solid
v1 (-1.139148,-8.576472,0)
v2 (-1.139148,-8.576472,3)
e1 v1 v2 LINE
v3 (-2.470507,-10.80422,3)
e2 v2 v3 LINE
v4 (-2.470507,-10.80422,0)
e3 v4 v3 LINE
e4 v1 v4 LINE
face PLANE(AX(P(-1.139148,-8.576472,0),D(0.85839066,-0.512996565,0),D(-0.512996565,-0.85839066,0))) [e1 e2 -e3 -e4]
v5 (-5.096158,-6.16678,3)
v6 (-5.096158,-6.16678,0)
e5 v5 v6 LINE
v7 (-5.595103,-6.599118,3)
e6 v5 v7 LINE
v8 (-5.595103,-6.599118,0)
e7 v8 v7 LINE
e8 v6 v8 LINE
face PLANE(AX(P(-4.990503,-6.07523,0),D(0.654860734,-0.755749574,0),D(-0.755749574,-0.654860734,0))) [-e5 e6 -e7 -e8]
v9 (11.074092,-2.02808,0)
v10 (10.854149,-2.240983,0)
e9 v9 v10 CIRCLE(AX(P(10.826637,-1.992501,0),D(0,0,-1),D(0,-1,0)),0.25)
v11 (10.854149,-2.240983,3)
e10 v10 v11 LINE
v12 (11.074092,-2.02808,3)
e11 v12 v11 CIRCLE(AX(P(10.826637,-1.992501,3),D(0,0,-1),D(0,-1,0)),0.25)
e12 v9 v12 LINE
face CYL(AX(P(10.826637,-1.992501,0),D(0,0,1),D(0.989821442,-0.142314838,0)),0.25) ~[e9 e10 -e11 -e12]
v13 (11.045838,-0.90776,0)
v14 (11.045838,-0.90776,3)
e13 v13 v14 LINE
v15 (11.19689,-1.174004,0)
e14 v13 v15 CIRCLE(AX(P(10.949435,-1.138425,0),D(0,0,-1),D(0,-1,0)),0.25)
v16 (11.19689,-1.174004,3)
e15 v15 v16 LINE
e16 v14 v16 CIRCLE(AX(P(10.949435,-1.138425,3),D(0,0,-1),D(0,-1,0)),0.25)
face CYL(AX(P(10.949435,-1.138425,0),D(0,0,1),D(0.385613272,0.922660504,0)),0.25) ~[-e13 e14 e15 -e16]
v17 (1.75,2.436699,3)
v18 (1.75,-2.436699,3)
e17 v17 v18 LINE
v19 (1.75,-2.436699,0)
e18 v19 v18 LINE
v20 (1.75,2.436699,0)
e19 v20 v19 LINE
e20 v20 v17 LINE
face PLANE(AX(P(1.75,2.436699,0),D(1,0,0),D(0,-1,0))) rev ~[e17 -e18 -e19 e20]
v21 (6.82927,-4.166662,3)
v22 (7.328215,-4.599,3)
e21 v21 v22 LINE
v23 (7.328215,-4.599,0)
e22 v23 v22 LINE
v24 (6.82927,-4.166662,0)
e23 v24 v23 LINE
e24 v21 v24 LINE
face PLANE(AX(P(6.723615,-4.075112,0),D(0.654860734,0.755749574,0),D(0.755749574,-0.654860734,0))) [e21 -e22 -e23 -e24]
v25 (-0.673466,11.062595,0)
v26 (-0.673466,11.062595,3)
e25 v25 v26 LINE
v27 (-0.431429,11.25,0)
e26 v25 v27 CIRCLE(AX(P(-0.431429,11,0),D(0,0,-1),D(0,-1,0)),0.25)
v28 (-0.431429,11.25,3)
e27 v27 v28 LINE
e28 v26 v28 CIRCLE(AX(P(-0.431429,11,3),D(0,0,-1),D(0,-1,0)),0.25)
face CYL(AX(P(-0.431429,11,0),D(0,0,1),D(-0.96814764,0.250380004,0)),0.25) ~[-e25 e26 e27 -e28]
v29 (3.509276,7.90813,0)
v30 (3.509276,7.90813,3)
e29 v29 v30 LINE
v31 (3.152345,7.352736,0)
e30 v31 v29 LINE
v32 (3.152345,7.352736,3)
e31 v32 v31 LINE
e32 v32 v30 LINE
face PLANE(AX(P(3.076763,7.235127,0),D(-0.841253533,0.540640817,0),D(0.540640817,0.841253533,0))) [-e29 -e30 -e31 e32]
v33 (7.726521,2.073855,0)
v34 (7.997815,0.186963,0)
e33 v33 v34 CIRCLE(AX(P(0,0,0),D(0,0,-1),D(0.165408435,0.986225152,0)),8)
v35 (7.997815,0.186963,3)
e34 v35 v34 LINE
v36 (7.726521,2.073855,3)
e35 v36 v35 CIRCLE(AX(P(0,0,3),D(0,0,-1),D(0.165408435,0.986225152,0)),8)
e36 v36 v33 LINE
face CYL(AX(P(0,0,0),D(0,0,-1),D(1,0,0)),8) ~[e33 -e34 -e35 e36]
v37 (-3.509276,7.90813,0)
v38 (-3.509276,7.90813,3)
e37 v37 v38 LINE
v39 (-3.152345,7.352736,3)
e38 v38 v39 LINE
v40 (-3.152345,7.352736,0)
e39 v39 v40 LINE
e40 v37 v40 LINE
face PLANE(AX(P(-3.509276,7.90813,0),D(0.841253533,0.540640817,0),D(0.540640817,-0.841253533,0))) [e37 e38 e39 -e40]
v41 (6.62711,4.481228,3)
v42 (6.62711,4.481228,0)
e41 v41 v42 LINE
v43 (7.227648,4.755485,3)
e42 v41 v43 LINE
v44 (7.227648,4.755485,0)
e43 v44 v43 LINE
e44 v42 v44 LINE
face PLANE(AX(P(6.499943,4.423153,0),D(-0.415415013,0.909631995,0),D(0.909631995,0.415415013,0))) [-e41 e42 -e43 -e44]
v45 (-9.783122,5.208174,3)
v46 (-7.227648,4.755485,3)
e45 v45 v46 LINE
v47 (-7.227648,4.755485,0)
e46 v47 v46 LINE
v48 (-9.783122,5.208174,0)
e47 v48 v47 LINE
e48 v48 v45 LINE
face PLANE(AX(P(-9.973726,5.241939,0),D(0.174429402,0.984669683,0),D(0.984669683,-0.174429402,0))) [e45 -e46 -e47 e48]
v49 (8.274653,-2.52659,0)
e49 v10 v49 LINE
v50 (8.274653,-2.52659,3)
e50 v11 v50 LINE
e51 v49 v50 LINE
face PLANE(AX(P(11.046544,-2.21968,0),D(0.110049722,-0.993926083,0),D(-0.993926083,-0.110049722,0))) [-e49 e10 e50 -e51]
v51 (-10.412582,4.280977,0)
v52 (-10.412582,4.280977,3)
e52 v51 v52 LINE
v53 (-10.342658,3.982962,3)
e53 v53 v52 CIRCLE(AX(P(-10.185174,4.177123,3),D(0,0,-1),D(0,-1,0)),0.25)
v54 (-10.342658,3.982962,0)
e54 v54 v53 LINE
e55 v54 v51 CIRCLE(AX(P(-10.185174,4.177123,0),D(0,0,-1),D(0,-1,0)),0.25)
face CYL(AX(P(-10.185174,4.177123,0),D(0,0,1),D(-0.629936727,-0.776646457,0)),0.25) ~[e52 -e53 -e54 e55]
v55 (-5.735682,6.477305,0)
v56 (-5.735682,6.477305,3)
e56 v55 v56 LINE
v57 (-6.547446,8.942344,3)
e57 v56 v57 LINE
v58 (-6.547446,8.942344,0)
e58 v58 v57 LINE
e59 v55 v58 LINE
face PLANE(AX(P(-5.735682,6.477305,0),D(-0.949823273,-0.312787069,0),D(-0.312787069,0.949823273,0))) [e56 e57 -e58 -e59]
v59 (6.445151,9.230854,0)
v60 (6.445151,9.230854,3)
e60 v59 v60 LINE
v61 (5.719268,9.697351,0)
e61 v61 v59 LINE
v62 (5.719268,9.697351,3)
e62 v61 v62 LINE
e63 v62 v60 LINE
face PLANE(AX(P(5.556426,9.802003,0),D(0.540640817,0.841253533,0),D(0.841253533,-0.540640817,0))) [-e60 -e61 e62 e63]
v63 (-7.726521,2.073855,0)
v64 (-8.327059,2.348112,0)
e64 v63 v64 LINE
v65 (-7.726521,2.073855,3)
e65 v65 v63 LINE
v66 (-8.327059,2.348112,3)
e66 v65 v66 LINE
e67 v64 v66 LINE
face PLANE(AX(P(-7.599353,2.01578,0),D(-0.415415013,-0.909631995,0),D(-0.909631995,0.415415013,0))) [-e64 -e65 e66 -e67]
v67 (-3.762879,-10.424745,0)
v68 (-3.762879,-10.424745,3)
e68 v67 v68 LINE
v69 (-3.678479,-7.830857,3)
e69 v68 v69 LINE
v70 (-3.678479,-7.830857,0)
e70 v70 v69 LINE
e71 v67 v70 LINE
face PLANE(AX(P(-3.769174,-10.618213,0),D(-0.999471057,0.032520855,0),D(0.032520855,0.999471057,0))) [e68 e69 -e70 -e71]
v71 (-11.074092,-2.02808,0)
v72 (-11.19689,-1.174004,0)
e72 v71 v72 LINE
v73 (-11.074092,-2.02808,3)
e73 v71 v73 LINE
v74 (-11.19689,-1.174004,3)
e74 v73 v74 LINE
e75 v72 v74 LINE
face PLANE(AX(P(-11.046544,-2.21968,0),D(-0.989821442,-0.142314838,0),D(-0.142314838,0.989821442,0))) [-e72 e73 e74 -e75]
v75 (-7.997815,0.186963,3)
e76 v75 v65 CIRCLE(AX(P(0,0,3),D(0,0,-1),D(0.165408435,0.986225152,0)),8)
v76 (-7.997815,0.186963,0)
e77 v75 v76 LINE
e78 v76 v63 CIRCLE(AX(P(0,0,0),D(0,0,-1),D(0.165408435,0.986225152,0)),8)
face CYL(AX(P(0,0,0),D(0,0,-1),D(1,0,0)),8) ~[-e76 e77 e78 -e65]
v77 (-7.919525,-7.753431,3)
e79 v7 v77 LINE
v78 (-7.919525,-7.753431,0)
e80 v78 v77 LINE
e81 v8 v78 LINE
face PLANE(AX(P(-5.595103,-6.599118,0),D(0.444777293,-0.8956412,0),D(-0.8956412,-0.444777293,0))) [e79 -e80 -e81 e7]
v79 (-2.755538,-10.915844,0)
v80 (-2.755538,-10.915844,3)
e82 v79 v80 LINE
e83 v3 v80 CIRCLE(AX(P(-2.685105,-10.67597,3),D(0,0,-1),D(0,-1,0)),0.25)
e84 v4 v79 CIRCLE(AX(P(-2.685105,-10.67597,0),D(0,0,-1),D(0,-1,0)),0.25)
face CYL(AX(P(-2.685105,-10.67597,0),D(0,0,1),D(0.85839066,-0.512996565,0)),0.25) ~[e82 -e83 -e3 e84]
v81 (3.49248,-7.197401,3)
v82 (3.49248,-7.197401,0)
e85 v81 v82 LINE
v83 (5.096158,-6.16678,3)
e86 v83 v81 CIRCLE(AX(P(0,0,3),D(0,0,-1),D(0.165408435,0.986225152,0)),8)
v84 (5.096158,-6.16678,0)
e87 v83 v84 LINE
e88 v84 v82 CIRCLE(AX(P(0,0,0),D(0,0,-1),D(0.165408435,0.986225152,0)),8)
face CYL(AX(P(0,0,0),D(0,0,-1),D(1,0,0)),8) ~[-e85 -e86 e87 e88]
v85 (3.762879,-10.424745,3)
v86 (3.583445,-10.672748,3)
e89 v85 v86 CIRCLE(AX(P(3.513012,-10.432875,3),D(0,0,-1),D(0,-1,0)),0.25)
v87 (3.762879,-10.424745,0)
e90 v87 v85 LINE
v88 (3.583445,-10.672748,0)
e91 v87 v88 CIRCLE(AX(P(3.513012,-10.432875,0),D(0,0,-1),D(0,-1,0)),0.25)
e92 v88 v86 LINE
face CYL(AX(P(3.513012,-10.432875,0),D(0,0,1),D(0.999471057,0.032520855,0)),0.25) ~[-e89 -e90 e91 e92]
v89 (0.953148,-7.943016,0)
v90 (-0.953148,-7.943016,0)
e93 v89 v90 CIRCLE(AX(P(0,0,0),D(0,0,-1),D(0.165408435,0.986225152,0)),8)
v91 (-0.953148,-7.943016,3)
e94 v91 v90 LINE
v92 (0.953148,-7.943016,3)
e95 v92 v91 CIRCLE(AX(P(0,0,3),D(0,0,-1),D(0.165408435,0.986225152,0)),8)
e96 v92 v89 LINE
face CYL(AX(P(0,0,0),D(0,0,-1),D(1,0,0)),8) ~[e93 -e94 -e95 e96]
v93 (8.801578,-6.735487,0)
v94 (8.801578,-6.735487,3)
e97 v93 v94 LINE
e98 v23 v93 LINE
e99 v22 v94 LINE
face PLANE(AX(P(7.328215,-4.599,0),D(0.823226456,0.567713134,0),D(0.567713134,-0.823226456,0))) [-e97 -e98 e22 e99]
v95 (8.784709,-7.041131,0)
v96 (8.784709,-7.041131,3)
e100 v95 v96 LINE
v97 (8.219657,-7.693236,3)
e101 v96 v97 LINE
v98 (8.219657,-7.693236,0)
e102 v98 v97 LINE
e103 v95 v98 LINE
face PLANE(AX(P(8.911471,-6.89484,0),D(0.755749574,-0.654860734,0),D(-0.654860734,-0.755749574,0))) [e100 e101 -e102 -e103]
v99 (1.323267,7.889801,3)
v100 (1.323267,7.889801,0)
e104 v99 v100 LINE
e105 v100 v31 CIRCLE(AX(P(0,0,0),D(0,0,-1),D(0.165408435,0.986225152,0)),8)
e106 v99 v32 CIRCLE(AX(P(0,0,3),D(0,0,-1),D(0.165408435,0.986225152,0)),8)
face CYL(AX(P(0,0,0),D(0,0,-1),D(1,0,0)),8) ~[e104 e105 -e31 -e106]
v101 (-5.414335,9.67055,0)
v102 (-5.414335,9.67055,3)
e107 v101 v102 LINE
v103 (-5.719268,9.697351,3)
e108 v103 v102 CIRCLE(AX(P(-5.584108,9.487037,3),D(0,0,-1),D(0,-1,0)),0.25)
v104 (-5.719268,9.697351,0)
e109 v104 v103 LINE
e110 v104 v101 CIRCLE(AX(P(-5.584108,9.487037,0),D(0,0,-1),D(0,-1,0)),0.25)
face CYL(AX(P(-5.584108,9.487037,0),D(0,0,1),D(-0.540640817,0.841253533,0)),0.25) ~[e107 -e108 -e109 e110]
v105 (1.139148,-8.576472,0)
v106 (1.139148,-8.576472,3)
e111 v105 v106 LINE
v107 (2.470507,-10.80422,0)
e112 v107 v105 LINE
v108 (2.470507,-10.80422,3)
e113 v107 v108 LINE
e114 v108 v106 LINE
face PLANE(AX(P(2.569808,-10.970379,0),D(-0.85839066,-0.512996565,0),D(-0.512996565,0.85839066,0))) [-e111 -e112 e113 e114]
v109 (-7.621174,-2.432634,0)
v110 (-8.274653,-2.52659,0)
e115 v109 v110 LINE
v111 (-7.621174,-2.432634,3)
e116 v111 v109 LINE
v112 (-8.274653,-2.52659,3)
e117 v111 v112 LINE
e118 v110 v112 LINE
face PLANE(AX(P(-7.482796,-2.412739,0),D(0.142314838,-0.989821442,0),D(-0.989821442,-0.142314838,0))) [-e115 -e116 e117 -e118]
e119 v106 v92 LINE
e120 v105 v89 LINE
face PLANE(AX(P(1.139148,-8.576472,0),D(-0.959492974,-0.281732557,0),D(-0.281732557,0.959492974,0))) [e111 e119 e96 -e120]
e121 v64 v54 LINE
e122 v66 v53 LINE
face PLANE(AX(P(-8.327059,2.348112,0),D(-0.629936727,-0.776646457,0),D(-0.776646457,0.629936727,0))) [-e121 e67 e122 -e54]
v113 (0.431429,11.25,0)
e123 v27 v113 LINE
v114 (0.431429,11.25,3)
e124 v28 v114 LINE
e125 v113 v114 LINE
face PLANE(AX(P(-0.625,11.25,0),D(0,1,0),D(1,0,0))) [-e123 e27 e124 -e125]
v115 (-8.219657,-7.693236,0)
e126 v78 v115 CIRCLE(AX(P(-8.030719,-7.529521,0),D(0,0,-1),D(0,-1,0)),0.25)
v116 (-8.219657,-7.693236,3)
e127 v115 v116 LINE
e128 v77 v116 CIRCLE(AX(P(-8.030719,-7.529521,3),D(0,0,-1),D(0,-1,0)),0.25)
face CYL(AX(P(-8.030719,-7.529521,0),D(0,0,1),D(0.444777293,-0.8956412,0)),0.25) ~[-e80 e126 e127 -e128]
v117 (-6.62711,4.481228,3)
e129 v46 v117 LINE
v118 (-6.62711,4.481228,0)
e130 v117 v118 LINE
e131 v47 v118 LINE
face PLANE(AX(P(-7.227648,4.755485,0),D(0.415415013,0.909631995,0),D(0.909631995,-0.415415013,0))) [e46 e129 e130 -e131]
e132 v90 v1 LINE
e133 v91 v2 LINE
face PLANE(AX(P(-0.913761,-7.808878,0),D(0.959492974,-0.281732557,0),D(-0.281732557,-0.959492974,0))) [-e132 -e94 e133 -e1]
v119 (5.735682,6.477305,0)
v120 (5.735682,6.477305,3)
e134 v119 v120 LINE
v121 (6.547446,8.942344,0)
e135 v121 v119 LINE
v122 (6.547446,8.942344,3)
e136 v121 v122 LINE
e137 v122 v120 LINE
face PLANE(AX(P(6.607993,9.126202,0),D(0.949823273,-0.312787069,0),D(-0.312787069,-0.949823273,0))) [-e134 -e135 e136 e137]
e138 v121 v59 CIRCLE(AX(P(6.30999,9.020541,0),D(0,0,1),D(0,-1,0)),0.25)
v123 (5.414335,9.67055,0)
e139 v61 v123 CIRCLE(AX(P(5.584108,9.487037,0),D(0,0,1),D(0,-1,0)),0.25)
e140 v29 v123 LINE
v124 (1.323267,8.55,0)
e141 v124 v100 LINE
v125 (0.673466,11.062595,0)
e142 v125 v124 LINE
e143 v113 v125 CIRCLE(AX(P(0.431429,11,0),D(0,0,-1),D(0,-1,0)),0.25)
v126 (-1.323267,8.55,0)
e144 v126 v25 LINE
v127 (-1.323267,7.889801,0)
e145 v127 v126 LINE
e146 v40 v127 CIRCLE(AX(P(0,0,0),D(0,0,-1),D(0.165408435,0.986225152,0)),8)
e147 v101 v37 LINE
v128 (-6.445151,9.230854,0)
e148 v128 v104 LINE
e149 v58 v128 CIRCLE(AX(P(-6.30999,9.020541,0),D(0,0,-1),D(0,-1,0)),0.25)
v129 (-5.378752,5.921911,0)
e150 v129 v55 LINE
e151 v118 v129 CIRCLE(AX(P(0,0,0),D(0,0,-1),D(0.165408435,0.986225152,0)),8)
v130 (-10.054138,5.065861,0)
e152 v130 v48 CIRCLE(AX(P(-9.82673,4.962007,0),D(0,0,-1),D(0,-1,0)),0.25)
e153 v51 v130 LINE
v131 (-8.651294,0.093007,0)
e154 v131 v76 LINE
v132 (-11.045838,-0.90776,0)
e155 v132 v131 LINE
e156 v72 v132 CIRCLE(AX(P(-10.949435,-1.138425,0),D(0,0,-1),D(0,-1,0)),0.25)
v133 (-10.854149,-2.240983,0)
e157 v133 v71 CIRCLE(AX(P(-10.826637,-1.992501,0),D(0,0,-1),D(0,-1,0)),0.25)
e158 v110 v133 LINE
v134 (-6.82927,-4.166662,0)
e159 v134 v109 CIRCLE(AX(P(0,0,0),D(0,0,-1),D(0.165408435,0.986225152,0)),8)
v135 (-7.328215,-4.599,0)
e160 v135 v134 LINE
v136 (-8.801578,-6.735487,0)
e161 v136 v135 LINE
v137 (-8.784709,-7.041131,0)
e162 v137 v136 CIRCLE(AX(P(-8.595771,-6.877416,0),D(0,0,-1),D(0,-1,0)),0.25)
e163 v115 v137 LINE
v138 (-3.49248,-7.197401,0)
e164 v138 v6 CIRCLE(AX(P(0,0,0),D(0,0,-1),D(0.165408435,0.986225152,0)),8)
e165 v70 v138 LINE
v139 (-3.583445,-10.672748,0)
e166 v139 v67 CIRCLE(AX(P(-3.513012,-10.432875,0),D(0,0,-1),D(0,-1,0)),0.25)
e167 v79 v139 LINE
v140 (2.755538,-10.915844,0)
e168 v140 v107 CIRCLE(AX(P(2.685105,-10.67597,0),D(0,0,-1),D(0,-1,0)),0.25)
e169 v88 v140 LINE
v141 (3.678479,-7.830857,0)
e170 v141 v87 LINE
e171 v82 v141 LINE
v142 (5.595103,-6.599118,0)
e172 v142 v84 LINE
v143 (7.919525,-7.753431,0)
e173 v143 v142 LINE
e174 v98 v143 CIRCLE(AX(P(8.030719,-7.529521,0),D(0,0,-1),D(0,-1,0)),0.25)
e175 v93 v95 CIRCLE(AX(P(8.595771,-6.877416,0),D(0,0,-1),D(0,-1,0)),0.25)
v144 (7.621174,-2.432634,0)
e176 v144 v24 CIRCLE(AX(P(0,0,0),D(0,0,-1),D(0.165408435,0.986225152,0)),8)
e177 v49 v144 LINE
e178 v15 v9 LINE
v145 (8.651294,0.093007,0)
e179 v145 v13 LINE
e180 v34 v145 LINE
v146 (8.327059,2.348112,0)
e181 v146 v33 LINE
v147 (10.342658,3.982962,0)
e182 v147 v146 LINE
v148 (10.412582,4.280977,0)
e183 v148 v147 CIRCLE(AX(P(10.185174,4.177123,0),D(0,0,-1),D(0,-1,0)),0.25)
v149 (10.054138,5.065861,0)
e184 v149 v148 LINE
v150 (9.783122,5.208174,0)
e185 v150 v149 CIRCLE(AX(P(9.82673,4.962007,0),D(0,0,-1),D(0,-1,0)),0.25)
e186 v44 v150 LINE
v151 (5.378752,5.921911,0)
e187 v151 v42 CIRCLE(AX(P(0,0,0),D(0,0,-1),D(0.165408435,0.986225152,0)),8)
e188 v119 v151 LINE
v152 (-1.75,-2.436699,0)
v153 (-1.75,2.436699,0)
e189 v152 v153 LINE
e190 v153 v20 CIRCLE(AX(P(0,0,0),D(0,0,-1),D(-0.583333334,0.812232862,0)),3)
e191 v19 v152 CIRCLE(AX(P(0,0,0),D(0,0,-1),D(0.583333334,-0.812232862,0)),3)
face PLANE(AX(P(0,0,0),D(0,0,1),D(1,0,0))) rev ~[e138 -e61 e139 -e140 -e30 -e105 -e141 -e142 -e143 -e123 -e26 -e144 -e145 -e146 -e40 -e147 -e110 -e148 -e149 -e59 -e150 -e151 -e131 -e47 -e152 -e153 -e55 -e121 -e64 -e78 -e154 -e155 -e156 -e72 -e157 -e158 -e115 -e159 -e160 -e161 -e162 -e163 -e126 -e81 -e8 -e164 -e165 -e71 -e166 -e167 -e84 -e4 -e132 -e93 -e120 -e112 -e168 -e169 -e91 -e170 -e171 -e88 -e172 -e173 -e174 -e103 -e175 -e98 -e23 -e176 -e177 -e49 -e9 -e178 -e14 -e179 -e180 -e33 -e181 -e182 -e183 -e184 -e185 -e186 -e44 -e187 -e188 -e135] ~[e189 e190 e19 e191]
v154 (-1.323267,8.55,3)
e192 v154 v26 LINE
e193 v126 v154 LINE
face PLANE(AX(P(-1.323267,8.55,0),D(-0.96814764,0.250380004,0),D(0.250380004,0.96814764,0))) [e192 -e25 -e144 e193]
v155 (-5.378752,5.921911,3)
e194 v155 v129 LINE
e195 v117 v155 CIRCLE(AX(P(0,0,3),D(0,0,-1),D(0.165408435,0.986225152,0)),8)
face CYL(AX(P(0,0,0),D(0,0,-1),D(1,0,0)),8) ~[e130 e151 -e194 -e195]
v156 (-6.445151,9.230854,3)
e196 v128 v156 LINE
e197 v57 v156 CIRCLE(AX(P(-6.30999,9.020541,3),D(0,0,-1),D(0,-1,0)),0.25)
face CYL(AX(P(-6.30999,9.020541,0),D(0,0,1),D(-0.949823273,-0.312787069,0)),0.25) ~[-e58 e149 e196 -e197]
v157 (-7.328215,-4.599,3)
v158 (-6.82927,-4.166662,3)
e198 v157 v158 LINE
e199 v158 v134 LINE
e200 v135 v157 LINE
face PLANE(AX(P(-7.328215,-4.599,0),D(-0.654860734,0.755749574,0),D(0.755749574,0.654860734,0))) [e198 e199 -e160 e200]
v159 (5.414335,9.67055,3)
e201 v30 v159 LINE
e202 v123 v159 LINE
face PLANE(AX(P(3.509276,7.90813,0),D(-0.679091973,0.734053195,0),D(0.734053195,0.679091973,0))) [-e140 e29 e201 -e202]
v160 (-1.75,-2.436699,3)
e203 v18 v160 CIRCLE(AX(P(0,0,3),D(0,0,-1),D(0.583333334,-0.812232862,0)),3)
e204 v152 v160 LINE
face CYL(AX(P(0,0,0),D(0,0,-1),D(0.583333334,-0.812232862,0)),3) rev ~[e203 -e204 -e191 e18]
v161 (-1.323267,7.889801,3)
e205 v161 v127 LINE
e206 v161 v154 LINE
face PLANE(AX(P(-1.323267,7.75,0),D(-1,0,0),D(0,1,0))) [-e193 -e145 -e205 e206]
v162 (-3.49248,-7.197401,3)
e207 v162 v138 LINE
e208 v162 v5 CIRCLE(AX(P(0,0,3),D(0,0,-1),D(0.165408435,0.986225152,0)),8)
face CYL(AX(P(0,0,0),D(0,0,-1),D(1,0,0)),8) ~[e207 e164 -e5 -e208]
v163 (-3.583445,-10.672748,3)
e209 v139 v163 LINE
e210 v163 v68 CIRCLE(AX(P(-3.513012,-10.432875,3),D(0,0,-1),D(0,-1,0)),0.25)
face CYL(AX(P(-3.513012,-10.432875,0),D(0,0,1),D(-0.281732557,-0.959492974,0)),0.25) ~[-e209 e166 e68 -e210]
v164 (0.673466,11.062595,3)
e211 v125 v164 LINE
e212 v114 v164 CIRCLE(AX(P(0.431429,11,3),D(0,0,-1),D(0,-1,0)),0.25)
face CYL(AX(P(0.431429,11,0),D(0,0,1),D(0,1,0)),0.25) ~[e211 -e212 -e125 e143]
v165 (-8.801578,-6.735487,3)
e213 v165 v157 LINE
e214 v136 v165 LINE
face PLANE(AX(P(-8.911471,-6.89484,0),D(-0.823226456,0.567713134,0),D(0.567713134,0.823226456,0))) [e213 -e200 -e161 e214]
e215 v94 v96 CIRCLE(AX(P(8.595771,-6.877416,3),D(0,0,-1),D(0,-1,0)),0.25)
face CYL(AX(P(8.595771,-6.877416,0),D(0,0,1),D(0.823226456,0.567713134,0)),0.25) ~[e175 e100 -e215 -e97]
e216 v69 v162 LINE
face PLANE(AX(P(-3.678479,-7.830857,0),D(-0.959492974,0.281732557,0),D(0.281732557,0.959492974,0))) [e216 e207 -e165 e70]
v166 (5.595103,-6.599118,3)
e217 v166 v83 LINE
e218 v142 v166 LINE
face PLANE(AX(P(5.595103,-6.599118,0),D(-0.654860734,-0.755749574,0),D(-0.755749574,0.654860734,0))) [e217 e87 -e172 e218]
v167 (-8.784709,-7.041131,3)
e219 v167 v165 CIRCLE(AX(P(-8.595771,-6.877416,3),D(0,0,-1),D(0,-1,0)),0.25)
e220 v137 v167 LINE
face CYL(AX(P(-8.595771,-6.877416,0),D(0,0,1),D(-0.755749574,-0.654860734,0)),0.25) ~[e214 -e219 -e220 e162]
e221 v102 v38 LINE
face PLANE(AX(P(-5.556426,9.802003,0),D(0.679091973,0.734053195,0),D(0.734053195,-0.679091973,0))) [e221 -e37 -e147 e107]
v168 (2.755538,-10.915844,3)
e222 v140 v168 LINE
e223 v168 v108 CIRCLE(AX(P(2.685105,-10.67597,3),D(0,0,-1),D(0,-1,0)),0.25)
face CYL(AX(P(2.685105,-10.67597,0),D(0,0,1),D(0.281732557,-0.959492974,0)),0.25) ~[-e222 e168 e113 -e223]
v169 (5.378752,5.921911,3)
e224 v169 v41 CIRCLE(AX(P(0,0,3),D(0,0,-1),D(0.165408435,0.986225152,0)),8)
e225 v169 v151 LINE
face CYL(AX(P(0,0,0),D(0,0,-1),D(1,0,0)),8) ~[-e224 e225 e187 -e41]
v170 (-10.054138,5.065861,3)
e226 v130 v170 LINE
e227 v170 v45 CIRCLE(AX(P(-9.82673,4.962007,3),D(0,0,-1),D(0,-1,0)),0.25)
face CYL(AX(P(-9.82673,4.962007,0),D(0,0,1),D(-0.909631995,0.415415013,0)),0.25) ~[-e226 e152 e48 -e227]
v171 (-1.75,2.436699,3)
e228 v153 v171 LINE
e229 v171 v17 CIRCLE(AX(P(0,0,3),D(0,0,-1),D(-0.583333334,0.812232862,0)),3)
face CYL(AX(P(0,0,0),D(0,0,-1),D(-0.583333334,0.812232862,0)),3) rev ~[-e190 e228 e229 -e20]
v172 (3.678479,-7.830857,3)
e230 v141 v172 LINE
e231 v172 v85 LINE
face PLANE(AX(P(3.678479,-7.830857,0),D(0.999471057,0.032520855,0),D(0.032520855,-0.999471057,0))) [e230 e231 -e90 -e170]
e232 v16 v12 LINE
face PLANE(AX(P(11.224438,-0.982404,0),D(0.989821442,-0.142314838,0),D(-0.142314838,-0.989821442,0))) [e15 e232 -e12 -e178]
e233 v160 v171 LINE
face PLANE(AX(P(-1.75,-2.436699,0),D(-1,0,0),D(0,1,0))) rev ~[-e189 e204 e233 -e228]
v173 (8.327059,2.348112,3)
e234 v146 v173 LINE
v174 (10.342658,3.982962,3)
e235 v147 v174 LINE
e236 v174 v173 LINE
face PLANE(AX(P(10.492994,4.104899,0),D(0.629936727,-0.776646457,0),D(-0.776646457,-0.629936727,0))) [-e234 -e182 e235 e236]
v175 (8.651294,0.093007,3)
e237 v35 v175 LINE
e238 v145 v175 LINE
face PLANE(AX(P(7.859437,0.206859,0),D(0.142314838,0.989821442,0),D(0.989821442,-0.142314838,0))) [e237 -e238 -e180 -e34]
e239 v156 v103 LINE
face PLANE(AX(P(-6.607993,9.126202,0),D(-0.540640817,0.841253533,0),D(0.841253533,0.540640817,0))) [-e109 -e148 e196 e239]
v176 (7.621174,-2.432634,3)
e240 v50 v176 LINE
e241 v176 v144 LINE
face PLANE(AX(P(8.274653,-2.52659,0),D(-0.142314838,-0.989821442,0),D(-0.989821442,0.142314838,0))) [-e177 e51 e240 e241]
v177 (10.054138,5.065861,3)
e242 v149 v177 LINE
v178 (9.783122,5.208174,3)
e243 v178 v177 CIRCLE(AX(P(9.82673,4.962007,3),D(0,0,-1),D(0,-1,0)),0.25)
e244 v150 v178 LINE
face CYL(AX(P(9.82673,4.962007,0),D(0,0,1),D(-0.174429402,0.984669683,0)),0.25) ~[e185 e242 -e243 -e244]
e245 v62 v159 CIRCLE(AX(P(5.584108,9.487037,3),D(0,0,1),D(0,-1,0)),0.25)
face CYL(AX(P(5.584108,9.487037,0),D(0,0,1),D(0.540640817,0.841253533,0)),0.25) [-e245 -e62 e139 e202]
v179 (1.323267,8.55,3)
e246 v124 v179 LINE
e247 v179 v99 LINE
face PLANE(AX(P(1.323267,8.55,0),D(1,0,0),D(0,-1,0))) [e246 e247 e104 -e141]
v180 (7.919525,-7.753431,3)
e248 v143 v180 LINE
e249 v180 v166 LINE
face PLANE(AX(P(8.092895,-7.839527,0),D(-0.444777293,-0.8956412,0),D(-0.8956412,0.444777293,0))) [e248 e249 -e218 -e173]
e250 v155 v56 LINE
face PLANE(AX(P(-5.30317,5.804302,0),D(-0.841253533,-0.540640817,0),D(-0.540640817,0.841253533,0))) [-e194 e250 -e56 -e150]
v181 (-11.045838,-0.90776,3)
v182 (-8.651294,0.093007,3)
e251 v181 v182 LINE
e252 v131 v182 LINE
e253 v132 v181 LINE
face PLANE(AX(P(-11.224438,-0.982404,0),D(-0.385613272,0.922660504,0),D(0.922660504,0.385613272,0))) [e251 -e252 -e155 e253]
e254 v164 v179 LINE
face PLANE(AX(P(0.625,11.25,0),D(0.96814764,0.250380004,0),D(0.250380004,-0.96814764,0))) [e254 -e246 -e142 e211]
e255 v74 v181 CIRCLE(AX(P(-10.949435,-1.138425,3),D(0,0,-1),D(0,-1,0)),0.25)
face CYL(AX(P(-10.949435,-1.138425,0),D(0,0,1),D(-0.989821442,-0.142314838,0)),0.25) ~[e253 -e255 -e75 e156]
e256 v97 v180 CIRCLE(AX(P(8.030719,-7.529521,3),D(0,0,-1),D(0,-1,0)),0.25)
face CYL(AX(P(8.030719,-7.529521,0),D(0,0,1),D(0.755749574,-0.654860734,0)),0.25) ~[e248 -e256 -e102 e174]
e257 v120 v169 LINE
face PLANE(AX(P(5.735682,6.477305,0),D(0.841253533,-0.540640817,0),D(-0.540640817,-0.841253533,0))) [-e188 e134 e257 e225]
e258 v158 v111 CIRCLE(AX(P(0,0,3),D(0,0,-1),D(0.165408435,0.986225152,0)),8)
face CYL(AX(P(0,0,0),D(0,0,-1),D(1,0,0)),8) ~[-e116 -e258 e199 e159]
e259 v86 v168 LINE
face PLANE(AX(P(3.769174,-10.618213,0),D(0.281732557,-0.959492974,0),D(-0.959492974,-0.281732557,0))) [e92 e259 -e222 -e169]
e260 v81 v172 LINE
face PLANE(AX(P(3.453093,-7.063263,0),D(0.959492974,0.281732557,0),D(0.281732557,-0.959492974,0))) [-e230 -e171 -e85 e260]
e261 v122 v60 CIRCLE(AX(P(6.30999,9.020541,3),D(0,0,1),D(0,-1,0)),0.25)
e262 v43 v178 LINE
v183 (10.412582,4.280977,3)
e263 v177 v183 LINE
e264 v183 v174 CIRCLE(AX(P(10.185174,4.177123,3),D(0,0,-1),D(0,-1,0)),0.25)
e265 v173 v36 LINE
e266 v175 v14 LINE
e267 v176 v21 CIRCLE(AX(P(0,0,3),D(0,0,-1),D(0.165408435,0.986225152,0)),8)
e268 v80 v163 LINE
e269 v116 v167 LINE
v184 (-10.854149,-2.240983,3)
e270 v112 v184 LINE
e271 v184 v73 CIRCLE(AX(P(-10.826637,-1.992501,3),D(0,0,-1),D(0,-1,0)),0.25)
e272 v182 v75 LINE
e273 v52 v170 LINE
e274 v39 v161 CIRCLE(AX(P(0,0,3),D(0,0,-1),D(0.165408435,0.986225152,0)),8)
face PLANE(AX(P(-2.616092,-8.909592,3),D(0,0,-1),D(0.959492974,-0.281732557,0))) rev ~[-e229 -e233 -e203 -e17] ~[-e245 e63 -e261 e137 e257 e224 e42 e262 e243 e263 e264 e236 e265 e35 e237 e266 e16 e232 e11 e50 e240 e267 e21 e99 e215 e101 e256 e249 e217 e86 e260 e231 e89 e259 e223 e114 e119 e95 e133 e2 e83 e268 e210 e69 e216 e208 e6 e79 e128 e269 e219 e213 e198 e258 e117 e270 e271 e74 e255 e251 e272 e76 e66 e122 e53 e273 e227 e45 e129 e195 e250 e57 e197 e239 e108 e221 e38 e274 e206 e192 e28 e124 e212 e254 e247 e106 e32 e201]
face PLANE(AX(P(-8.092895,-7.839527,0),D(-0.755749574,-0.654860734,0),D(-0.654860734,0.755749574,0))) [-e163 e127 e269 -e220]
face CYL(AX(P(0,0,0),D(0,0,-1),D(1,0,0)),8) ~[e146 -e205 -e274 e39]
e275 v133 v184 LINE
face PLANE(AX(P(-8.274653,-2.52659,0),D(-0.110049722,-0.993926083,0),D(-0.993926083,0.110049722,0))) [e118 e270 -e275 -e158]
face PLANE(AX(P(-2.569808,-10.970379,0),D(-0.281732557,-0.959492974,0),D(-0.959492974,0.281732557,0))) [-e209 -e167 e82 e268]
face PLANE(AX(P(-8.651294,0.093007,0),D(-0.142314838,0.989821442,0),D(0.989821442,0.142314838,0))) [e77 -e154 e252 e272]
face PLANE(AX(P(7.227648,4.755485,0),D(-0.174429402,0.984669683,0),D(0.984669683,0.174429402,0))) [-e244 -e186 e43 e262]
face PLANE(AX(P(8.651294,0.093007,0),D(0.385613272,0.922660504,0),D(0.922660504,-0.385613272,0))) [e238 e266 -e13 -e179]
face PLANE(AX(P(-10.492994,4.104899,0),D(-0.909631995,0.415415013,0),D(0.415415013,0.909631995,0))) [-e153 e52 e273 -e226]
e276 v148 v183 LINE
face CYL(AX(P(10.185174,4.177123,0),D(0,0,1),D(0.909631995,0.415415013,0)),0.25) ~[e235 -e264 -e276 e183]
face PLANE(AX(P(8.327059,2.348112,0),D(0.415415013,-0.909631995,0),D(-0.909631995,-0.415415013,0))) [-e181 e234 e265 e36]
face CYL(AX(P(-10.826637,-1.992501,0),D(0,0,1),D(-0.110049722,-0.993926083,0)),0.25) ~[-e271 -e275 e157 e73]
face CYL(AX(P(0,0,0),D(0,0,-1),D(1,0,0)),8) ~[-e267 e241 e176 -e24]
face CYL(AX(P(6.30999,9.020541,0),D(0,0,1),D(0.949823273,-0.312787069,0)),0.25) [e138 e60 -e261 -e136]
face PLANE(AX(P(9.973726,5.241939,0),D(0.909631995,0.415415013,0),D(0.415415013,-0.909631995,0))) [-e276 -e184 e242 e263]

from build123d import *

# Parameters (mm, degrees)
SKETCH1_R                = 8
BOSS_EXTRUDE1_DEPTH      = 3
BOSS_EXTRUDE2_DEPTH      = 3
FILLET1_R                = 0.25
CIRPATTERN1_COUNT        = 11
FILLET1_OF_CIRPATTERN1_R = 0.25


with BuildPart() as part:
    # Sketch1 → Boss-Extrude1 (new body)
    with BuildSketch(Plane.XY):
        Circle(SKETCH1_R)
        with BuildLine():
            ThreePointArc((1.75, -2.436698586), (0, -3), (-1.75, -2.436698586))
            Line((-1.75, -2.436698586), (-1.75, 2.436698586))
            ThreePointArc((-1.75, 2.436698586), (0, 3), (1.75, 2.436698586))
            Line((1.75, 2.436698586), (1.75, -2.436698586))
        make_face(mode=Mode.SUBTRACT)
    extrude(amount=BOSS_EXTRUDE1_DEPTH)

    # Sketch2 → Boss-Extrude2 (add)
    with BuildSketch(Plane.XY):
        Polygon((-1.323267478, 7.75), (-1.323267478, 8.55), (-0.625, 11.25), (0.625, 11.25), (1.323267478, 8.55), (1.323267478, 7.75), align=None)
    boss_extrude2 = extrude(amount=BOSS_EXTRUDE2_DEPTH)

    # Fillet1
    fillet1_edges = [part.edges().sort_by_distance(p)[0] for p in [
        (0.625, 11.25, 1.5),
        (-0.625, 11.25, 1.5),
    ]]
    fillet(fillet1_edges, radius=FILLET1_R)

    # CirPattern1: Boss-Extrude2 ×11 about axis
    cirpattern1_axis = Axis((0, 0, 0), (0, 0, 1))
    for i in range(1, CIRPATTERN1_COUNT):
        add(boss_extrude2.rotate(cirpattern1_axis, i * 360 / CIRPATTERN1_COUNT))

    # Fillet1 of CirPattern1
    fillet1_of_cirpattern1_edges = [part.edges().sort_by_distance(p)[0] for p in [
        (-5.556425738, 9.802002755, 1.5),
        (-6.607992654, 9.126201733, 1.5),
        (-9.973725565, 5.241938893, 1.5),
        (-10.492994331, 4.104898899, 1.5),
        (-11.224437995, -0.982403529, 1.5),
        (-11.046544447, -2.219680332, 1.5),
        (-8.91147067, -6.894839773, 1.5),
        (-8.092894753, -7.839526741, 1.5),
        (-3.769174373, -10.618213105, 1.5),
        (-2.569808156, -10.970378801, 1.5),
        (2.569808156, -10.970378801, 1.5),
        (3.769174373, -10.618213105, 1.5),
        (8.092894753, -7.839526741, 1.5),
        (8.91147067, -6.894839773, 1.5),
        (11.046544447, -2.219680332, 1.5),
        (11.224437995, -0.982403529, 1.5),
        (10.492994331, 4.104898899, 1.5),
        (9.973725565, 5.241938893, 1.5),
        (6.607992654, 9.126201733, 1.5),
        (5.556425738, 9.802002755, 1.5),
    ]]
    fillet(fillet1_of_cirpattern1_edges, radius=FILLET1_OF_CIRPATTERN1_R)


solid = part.part
